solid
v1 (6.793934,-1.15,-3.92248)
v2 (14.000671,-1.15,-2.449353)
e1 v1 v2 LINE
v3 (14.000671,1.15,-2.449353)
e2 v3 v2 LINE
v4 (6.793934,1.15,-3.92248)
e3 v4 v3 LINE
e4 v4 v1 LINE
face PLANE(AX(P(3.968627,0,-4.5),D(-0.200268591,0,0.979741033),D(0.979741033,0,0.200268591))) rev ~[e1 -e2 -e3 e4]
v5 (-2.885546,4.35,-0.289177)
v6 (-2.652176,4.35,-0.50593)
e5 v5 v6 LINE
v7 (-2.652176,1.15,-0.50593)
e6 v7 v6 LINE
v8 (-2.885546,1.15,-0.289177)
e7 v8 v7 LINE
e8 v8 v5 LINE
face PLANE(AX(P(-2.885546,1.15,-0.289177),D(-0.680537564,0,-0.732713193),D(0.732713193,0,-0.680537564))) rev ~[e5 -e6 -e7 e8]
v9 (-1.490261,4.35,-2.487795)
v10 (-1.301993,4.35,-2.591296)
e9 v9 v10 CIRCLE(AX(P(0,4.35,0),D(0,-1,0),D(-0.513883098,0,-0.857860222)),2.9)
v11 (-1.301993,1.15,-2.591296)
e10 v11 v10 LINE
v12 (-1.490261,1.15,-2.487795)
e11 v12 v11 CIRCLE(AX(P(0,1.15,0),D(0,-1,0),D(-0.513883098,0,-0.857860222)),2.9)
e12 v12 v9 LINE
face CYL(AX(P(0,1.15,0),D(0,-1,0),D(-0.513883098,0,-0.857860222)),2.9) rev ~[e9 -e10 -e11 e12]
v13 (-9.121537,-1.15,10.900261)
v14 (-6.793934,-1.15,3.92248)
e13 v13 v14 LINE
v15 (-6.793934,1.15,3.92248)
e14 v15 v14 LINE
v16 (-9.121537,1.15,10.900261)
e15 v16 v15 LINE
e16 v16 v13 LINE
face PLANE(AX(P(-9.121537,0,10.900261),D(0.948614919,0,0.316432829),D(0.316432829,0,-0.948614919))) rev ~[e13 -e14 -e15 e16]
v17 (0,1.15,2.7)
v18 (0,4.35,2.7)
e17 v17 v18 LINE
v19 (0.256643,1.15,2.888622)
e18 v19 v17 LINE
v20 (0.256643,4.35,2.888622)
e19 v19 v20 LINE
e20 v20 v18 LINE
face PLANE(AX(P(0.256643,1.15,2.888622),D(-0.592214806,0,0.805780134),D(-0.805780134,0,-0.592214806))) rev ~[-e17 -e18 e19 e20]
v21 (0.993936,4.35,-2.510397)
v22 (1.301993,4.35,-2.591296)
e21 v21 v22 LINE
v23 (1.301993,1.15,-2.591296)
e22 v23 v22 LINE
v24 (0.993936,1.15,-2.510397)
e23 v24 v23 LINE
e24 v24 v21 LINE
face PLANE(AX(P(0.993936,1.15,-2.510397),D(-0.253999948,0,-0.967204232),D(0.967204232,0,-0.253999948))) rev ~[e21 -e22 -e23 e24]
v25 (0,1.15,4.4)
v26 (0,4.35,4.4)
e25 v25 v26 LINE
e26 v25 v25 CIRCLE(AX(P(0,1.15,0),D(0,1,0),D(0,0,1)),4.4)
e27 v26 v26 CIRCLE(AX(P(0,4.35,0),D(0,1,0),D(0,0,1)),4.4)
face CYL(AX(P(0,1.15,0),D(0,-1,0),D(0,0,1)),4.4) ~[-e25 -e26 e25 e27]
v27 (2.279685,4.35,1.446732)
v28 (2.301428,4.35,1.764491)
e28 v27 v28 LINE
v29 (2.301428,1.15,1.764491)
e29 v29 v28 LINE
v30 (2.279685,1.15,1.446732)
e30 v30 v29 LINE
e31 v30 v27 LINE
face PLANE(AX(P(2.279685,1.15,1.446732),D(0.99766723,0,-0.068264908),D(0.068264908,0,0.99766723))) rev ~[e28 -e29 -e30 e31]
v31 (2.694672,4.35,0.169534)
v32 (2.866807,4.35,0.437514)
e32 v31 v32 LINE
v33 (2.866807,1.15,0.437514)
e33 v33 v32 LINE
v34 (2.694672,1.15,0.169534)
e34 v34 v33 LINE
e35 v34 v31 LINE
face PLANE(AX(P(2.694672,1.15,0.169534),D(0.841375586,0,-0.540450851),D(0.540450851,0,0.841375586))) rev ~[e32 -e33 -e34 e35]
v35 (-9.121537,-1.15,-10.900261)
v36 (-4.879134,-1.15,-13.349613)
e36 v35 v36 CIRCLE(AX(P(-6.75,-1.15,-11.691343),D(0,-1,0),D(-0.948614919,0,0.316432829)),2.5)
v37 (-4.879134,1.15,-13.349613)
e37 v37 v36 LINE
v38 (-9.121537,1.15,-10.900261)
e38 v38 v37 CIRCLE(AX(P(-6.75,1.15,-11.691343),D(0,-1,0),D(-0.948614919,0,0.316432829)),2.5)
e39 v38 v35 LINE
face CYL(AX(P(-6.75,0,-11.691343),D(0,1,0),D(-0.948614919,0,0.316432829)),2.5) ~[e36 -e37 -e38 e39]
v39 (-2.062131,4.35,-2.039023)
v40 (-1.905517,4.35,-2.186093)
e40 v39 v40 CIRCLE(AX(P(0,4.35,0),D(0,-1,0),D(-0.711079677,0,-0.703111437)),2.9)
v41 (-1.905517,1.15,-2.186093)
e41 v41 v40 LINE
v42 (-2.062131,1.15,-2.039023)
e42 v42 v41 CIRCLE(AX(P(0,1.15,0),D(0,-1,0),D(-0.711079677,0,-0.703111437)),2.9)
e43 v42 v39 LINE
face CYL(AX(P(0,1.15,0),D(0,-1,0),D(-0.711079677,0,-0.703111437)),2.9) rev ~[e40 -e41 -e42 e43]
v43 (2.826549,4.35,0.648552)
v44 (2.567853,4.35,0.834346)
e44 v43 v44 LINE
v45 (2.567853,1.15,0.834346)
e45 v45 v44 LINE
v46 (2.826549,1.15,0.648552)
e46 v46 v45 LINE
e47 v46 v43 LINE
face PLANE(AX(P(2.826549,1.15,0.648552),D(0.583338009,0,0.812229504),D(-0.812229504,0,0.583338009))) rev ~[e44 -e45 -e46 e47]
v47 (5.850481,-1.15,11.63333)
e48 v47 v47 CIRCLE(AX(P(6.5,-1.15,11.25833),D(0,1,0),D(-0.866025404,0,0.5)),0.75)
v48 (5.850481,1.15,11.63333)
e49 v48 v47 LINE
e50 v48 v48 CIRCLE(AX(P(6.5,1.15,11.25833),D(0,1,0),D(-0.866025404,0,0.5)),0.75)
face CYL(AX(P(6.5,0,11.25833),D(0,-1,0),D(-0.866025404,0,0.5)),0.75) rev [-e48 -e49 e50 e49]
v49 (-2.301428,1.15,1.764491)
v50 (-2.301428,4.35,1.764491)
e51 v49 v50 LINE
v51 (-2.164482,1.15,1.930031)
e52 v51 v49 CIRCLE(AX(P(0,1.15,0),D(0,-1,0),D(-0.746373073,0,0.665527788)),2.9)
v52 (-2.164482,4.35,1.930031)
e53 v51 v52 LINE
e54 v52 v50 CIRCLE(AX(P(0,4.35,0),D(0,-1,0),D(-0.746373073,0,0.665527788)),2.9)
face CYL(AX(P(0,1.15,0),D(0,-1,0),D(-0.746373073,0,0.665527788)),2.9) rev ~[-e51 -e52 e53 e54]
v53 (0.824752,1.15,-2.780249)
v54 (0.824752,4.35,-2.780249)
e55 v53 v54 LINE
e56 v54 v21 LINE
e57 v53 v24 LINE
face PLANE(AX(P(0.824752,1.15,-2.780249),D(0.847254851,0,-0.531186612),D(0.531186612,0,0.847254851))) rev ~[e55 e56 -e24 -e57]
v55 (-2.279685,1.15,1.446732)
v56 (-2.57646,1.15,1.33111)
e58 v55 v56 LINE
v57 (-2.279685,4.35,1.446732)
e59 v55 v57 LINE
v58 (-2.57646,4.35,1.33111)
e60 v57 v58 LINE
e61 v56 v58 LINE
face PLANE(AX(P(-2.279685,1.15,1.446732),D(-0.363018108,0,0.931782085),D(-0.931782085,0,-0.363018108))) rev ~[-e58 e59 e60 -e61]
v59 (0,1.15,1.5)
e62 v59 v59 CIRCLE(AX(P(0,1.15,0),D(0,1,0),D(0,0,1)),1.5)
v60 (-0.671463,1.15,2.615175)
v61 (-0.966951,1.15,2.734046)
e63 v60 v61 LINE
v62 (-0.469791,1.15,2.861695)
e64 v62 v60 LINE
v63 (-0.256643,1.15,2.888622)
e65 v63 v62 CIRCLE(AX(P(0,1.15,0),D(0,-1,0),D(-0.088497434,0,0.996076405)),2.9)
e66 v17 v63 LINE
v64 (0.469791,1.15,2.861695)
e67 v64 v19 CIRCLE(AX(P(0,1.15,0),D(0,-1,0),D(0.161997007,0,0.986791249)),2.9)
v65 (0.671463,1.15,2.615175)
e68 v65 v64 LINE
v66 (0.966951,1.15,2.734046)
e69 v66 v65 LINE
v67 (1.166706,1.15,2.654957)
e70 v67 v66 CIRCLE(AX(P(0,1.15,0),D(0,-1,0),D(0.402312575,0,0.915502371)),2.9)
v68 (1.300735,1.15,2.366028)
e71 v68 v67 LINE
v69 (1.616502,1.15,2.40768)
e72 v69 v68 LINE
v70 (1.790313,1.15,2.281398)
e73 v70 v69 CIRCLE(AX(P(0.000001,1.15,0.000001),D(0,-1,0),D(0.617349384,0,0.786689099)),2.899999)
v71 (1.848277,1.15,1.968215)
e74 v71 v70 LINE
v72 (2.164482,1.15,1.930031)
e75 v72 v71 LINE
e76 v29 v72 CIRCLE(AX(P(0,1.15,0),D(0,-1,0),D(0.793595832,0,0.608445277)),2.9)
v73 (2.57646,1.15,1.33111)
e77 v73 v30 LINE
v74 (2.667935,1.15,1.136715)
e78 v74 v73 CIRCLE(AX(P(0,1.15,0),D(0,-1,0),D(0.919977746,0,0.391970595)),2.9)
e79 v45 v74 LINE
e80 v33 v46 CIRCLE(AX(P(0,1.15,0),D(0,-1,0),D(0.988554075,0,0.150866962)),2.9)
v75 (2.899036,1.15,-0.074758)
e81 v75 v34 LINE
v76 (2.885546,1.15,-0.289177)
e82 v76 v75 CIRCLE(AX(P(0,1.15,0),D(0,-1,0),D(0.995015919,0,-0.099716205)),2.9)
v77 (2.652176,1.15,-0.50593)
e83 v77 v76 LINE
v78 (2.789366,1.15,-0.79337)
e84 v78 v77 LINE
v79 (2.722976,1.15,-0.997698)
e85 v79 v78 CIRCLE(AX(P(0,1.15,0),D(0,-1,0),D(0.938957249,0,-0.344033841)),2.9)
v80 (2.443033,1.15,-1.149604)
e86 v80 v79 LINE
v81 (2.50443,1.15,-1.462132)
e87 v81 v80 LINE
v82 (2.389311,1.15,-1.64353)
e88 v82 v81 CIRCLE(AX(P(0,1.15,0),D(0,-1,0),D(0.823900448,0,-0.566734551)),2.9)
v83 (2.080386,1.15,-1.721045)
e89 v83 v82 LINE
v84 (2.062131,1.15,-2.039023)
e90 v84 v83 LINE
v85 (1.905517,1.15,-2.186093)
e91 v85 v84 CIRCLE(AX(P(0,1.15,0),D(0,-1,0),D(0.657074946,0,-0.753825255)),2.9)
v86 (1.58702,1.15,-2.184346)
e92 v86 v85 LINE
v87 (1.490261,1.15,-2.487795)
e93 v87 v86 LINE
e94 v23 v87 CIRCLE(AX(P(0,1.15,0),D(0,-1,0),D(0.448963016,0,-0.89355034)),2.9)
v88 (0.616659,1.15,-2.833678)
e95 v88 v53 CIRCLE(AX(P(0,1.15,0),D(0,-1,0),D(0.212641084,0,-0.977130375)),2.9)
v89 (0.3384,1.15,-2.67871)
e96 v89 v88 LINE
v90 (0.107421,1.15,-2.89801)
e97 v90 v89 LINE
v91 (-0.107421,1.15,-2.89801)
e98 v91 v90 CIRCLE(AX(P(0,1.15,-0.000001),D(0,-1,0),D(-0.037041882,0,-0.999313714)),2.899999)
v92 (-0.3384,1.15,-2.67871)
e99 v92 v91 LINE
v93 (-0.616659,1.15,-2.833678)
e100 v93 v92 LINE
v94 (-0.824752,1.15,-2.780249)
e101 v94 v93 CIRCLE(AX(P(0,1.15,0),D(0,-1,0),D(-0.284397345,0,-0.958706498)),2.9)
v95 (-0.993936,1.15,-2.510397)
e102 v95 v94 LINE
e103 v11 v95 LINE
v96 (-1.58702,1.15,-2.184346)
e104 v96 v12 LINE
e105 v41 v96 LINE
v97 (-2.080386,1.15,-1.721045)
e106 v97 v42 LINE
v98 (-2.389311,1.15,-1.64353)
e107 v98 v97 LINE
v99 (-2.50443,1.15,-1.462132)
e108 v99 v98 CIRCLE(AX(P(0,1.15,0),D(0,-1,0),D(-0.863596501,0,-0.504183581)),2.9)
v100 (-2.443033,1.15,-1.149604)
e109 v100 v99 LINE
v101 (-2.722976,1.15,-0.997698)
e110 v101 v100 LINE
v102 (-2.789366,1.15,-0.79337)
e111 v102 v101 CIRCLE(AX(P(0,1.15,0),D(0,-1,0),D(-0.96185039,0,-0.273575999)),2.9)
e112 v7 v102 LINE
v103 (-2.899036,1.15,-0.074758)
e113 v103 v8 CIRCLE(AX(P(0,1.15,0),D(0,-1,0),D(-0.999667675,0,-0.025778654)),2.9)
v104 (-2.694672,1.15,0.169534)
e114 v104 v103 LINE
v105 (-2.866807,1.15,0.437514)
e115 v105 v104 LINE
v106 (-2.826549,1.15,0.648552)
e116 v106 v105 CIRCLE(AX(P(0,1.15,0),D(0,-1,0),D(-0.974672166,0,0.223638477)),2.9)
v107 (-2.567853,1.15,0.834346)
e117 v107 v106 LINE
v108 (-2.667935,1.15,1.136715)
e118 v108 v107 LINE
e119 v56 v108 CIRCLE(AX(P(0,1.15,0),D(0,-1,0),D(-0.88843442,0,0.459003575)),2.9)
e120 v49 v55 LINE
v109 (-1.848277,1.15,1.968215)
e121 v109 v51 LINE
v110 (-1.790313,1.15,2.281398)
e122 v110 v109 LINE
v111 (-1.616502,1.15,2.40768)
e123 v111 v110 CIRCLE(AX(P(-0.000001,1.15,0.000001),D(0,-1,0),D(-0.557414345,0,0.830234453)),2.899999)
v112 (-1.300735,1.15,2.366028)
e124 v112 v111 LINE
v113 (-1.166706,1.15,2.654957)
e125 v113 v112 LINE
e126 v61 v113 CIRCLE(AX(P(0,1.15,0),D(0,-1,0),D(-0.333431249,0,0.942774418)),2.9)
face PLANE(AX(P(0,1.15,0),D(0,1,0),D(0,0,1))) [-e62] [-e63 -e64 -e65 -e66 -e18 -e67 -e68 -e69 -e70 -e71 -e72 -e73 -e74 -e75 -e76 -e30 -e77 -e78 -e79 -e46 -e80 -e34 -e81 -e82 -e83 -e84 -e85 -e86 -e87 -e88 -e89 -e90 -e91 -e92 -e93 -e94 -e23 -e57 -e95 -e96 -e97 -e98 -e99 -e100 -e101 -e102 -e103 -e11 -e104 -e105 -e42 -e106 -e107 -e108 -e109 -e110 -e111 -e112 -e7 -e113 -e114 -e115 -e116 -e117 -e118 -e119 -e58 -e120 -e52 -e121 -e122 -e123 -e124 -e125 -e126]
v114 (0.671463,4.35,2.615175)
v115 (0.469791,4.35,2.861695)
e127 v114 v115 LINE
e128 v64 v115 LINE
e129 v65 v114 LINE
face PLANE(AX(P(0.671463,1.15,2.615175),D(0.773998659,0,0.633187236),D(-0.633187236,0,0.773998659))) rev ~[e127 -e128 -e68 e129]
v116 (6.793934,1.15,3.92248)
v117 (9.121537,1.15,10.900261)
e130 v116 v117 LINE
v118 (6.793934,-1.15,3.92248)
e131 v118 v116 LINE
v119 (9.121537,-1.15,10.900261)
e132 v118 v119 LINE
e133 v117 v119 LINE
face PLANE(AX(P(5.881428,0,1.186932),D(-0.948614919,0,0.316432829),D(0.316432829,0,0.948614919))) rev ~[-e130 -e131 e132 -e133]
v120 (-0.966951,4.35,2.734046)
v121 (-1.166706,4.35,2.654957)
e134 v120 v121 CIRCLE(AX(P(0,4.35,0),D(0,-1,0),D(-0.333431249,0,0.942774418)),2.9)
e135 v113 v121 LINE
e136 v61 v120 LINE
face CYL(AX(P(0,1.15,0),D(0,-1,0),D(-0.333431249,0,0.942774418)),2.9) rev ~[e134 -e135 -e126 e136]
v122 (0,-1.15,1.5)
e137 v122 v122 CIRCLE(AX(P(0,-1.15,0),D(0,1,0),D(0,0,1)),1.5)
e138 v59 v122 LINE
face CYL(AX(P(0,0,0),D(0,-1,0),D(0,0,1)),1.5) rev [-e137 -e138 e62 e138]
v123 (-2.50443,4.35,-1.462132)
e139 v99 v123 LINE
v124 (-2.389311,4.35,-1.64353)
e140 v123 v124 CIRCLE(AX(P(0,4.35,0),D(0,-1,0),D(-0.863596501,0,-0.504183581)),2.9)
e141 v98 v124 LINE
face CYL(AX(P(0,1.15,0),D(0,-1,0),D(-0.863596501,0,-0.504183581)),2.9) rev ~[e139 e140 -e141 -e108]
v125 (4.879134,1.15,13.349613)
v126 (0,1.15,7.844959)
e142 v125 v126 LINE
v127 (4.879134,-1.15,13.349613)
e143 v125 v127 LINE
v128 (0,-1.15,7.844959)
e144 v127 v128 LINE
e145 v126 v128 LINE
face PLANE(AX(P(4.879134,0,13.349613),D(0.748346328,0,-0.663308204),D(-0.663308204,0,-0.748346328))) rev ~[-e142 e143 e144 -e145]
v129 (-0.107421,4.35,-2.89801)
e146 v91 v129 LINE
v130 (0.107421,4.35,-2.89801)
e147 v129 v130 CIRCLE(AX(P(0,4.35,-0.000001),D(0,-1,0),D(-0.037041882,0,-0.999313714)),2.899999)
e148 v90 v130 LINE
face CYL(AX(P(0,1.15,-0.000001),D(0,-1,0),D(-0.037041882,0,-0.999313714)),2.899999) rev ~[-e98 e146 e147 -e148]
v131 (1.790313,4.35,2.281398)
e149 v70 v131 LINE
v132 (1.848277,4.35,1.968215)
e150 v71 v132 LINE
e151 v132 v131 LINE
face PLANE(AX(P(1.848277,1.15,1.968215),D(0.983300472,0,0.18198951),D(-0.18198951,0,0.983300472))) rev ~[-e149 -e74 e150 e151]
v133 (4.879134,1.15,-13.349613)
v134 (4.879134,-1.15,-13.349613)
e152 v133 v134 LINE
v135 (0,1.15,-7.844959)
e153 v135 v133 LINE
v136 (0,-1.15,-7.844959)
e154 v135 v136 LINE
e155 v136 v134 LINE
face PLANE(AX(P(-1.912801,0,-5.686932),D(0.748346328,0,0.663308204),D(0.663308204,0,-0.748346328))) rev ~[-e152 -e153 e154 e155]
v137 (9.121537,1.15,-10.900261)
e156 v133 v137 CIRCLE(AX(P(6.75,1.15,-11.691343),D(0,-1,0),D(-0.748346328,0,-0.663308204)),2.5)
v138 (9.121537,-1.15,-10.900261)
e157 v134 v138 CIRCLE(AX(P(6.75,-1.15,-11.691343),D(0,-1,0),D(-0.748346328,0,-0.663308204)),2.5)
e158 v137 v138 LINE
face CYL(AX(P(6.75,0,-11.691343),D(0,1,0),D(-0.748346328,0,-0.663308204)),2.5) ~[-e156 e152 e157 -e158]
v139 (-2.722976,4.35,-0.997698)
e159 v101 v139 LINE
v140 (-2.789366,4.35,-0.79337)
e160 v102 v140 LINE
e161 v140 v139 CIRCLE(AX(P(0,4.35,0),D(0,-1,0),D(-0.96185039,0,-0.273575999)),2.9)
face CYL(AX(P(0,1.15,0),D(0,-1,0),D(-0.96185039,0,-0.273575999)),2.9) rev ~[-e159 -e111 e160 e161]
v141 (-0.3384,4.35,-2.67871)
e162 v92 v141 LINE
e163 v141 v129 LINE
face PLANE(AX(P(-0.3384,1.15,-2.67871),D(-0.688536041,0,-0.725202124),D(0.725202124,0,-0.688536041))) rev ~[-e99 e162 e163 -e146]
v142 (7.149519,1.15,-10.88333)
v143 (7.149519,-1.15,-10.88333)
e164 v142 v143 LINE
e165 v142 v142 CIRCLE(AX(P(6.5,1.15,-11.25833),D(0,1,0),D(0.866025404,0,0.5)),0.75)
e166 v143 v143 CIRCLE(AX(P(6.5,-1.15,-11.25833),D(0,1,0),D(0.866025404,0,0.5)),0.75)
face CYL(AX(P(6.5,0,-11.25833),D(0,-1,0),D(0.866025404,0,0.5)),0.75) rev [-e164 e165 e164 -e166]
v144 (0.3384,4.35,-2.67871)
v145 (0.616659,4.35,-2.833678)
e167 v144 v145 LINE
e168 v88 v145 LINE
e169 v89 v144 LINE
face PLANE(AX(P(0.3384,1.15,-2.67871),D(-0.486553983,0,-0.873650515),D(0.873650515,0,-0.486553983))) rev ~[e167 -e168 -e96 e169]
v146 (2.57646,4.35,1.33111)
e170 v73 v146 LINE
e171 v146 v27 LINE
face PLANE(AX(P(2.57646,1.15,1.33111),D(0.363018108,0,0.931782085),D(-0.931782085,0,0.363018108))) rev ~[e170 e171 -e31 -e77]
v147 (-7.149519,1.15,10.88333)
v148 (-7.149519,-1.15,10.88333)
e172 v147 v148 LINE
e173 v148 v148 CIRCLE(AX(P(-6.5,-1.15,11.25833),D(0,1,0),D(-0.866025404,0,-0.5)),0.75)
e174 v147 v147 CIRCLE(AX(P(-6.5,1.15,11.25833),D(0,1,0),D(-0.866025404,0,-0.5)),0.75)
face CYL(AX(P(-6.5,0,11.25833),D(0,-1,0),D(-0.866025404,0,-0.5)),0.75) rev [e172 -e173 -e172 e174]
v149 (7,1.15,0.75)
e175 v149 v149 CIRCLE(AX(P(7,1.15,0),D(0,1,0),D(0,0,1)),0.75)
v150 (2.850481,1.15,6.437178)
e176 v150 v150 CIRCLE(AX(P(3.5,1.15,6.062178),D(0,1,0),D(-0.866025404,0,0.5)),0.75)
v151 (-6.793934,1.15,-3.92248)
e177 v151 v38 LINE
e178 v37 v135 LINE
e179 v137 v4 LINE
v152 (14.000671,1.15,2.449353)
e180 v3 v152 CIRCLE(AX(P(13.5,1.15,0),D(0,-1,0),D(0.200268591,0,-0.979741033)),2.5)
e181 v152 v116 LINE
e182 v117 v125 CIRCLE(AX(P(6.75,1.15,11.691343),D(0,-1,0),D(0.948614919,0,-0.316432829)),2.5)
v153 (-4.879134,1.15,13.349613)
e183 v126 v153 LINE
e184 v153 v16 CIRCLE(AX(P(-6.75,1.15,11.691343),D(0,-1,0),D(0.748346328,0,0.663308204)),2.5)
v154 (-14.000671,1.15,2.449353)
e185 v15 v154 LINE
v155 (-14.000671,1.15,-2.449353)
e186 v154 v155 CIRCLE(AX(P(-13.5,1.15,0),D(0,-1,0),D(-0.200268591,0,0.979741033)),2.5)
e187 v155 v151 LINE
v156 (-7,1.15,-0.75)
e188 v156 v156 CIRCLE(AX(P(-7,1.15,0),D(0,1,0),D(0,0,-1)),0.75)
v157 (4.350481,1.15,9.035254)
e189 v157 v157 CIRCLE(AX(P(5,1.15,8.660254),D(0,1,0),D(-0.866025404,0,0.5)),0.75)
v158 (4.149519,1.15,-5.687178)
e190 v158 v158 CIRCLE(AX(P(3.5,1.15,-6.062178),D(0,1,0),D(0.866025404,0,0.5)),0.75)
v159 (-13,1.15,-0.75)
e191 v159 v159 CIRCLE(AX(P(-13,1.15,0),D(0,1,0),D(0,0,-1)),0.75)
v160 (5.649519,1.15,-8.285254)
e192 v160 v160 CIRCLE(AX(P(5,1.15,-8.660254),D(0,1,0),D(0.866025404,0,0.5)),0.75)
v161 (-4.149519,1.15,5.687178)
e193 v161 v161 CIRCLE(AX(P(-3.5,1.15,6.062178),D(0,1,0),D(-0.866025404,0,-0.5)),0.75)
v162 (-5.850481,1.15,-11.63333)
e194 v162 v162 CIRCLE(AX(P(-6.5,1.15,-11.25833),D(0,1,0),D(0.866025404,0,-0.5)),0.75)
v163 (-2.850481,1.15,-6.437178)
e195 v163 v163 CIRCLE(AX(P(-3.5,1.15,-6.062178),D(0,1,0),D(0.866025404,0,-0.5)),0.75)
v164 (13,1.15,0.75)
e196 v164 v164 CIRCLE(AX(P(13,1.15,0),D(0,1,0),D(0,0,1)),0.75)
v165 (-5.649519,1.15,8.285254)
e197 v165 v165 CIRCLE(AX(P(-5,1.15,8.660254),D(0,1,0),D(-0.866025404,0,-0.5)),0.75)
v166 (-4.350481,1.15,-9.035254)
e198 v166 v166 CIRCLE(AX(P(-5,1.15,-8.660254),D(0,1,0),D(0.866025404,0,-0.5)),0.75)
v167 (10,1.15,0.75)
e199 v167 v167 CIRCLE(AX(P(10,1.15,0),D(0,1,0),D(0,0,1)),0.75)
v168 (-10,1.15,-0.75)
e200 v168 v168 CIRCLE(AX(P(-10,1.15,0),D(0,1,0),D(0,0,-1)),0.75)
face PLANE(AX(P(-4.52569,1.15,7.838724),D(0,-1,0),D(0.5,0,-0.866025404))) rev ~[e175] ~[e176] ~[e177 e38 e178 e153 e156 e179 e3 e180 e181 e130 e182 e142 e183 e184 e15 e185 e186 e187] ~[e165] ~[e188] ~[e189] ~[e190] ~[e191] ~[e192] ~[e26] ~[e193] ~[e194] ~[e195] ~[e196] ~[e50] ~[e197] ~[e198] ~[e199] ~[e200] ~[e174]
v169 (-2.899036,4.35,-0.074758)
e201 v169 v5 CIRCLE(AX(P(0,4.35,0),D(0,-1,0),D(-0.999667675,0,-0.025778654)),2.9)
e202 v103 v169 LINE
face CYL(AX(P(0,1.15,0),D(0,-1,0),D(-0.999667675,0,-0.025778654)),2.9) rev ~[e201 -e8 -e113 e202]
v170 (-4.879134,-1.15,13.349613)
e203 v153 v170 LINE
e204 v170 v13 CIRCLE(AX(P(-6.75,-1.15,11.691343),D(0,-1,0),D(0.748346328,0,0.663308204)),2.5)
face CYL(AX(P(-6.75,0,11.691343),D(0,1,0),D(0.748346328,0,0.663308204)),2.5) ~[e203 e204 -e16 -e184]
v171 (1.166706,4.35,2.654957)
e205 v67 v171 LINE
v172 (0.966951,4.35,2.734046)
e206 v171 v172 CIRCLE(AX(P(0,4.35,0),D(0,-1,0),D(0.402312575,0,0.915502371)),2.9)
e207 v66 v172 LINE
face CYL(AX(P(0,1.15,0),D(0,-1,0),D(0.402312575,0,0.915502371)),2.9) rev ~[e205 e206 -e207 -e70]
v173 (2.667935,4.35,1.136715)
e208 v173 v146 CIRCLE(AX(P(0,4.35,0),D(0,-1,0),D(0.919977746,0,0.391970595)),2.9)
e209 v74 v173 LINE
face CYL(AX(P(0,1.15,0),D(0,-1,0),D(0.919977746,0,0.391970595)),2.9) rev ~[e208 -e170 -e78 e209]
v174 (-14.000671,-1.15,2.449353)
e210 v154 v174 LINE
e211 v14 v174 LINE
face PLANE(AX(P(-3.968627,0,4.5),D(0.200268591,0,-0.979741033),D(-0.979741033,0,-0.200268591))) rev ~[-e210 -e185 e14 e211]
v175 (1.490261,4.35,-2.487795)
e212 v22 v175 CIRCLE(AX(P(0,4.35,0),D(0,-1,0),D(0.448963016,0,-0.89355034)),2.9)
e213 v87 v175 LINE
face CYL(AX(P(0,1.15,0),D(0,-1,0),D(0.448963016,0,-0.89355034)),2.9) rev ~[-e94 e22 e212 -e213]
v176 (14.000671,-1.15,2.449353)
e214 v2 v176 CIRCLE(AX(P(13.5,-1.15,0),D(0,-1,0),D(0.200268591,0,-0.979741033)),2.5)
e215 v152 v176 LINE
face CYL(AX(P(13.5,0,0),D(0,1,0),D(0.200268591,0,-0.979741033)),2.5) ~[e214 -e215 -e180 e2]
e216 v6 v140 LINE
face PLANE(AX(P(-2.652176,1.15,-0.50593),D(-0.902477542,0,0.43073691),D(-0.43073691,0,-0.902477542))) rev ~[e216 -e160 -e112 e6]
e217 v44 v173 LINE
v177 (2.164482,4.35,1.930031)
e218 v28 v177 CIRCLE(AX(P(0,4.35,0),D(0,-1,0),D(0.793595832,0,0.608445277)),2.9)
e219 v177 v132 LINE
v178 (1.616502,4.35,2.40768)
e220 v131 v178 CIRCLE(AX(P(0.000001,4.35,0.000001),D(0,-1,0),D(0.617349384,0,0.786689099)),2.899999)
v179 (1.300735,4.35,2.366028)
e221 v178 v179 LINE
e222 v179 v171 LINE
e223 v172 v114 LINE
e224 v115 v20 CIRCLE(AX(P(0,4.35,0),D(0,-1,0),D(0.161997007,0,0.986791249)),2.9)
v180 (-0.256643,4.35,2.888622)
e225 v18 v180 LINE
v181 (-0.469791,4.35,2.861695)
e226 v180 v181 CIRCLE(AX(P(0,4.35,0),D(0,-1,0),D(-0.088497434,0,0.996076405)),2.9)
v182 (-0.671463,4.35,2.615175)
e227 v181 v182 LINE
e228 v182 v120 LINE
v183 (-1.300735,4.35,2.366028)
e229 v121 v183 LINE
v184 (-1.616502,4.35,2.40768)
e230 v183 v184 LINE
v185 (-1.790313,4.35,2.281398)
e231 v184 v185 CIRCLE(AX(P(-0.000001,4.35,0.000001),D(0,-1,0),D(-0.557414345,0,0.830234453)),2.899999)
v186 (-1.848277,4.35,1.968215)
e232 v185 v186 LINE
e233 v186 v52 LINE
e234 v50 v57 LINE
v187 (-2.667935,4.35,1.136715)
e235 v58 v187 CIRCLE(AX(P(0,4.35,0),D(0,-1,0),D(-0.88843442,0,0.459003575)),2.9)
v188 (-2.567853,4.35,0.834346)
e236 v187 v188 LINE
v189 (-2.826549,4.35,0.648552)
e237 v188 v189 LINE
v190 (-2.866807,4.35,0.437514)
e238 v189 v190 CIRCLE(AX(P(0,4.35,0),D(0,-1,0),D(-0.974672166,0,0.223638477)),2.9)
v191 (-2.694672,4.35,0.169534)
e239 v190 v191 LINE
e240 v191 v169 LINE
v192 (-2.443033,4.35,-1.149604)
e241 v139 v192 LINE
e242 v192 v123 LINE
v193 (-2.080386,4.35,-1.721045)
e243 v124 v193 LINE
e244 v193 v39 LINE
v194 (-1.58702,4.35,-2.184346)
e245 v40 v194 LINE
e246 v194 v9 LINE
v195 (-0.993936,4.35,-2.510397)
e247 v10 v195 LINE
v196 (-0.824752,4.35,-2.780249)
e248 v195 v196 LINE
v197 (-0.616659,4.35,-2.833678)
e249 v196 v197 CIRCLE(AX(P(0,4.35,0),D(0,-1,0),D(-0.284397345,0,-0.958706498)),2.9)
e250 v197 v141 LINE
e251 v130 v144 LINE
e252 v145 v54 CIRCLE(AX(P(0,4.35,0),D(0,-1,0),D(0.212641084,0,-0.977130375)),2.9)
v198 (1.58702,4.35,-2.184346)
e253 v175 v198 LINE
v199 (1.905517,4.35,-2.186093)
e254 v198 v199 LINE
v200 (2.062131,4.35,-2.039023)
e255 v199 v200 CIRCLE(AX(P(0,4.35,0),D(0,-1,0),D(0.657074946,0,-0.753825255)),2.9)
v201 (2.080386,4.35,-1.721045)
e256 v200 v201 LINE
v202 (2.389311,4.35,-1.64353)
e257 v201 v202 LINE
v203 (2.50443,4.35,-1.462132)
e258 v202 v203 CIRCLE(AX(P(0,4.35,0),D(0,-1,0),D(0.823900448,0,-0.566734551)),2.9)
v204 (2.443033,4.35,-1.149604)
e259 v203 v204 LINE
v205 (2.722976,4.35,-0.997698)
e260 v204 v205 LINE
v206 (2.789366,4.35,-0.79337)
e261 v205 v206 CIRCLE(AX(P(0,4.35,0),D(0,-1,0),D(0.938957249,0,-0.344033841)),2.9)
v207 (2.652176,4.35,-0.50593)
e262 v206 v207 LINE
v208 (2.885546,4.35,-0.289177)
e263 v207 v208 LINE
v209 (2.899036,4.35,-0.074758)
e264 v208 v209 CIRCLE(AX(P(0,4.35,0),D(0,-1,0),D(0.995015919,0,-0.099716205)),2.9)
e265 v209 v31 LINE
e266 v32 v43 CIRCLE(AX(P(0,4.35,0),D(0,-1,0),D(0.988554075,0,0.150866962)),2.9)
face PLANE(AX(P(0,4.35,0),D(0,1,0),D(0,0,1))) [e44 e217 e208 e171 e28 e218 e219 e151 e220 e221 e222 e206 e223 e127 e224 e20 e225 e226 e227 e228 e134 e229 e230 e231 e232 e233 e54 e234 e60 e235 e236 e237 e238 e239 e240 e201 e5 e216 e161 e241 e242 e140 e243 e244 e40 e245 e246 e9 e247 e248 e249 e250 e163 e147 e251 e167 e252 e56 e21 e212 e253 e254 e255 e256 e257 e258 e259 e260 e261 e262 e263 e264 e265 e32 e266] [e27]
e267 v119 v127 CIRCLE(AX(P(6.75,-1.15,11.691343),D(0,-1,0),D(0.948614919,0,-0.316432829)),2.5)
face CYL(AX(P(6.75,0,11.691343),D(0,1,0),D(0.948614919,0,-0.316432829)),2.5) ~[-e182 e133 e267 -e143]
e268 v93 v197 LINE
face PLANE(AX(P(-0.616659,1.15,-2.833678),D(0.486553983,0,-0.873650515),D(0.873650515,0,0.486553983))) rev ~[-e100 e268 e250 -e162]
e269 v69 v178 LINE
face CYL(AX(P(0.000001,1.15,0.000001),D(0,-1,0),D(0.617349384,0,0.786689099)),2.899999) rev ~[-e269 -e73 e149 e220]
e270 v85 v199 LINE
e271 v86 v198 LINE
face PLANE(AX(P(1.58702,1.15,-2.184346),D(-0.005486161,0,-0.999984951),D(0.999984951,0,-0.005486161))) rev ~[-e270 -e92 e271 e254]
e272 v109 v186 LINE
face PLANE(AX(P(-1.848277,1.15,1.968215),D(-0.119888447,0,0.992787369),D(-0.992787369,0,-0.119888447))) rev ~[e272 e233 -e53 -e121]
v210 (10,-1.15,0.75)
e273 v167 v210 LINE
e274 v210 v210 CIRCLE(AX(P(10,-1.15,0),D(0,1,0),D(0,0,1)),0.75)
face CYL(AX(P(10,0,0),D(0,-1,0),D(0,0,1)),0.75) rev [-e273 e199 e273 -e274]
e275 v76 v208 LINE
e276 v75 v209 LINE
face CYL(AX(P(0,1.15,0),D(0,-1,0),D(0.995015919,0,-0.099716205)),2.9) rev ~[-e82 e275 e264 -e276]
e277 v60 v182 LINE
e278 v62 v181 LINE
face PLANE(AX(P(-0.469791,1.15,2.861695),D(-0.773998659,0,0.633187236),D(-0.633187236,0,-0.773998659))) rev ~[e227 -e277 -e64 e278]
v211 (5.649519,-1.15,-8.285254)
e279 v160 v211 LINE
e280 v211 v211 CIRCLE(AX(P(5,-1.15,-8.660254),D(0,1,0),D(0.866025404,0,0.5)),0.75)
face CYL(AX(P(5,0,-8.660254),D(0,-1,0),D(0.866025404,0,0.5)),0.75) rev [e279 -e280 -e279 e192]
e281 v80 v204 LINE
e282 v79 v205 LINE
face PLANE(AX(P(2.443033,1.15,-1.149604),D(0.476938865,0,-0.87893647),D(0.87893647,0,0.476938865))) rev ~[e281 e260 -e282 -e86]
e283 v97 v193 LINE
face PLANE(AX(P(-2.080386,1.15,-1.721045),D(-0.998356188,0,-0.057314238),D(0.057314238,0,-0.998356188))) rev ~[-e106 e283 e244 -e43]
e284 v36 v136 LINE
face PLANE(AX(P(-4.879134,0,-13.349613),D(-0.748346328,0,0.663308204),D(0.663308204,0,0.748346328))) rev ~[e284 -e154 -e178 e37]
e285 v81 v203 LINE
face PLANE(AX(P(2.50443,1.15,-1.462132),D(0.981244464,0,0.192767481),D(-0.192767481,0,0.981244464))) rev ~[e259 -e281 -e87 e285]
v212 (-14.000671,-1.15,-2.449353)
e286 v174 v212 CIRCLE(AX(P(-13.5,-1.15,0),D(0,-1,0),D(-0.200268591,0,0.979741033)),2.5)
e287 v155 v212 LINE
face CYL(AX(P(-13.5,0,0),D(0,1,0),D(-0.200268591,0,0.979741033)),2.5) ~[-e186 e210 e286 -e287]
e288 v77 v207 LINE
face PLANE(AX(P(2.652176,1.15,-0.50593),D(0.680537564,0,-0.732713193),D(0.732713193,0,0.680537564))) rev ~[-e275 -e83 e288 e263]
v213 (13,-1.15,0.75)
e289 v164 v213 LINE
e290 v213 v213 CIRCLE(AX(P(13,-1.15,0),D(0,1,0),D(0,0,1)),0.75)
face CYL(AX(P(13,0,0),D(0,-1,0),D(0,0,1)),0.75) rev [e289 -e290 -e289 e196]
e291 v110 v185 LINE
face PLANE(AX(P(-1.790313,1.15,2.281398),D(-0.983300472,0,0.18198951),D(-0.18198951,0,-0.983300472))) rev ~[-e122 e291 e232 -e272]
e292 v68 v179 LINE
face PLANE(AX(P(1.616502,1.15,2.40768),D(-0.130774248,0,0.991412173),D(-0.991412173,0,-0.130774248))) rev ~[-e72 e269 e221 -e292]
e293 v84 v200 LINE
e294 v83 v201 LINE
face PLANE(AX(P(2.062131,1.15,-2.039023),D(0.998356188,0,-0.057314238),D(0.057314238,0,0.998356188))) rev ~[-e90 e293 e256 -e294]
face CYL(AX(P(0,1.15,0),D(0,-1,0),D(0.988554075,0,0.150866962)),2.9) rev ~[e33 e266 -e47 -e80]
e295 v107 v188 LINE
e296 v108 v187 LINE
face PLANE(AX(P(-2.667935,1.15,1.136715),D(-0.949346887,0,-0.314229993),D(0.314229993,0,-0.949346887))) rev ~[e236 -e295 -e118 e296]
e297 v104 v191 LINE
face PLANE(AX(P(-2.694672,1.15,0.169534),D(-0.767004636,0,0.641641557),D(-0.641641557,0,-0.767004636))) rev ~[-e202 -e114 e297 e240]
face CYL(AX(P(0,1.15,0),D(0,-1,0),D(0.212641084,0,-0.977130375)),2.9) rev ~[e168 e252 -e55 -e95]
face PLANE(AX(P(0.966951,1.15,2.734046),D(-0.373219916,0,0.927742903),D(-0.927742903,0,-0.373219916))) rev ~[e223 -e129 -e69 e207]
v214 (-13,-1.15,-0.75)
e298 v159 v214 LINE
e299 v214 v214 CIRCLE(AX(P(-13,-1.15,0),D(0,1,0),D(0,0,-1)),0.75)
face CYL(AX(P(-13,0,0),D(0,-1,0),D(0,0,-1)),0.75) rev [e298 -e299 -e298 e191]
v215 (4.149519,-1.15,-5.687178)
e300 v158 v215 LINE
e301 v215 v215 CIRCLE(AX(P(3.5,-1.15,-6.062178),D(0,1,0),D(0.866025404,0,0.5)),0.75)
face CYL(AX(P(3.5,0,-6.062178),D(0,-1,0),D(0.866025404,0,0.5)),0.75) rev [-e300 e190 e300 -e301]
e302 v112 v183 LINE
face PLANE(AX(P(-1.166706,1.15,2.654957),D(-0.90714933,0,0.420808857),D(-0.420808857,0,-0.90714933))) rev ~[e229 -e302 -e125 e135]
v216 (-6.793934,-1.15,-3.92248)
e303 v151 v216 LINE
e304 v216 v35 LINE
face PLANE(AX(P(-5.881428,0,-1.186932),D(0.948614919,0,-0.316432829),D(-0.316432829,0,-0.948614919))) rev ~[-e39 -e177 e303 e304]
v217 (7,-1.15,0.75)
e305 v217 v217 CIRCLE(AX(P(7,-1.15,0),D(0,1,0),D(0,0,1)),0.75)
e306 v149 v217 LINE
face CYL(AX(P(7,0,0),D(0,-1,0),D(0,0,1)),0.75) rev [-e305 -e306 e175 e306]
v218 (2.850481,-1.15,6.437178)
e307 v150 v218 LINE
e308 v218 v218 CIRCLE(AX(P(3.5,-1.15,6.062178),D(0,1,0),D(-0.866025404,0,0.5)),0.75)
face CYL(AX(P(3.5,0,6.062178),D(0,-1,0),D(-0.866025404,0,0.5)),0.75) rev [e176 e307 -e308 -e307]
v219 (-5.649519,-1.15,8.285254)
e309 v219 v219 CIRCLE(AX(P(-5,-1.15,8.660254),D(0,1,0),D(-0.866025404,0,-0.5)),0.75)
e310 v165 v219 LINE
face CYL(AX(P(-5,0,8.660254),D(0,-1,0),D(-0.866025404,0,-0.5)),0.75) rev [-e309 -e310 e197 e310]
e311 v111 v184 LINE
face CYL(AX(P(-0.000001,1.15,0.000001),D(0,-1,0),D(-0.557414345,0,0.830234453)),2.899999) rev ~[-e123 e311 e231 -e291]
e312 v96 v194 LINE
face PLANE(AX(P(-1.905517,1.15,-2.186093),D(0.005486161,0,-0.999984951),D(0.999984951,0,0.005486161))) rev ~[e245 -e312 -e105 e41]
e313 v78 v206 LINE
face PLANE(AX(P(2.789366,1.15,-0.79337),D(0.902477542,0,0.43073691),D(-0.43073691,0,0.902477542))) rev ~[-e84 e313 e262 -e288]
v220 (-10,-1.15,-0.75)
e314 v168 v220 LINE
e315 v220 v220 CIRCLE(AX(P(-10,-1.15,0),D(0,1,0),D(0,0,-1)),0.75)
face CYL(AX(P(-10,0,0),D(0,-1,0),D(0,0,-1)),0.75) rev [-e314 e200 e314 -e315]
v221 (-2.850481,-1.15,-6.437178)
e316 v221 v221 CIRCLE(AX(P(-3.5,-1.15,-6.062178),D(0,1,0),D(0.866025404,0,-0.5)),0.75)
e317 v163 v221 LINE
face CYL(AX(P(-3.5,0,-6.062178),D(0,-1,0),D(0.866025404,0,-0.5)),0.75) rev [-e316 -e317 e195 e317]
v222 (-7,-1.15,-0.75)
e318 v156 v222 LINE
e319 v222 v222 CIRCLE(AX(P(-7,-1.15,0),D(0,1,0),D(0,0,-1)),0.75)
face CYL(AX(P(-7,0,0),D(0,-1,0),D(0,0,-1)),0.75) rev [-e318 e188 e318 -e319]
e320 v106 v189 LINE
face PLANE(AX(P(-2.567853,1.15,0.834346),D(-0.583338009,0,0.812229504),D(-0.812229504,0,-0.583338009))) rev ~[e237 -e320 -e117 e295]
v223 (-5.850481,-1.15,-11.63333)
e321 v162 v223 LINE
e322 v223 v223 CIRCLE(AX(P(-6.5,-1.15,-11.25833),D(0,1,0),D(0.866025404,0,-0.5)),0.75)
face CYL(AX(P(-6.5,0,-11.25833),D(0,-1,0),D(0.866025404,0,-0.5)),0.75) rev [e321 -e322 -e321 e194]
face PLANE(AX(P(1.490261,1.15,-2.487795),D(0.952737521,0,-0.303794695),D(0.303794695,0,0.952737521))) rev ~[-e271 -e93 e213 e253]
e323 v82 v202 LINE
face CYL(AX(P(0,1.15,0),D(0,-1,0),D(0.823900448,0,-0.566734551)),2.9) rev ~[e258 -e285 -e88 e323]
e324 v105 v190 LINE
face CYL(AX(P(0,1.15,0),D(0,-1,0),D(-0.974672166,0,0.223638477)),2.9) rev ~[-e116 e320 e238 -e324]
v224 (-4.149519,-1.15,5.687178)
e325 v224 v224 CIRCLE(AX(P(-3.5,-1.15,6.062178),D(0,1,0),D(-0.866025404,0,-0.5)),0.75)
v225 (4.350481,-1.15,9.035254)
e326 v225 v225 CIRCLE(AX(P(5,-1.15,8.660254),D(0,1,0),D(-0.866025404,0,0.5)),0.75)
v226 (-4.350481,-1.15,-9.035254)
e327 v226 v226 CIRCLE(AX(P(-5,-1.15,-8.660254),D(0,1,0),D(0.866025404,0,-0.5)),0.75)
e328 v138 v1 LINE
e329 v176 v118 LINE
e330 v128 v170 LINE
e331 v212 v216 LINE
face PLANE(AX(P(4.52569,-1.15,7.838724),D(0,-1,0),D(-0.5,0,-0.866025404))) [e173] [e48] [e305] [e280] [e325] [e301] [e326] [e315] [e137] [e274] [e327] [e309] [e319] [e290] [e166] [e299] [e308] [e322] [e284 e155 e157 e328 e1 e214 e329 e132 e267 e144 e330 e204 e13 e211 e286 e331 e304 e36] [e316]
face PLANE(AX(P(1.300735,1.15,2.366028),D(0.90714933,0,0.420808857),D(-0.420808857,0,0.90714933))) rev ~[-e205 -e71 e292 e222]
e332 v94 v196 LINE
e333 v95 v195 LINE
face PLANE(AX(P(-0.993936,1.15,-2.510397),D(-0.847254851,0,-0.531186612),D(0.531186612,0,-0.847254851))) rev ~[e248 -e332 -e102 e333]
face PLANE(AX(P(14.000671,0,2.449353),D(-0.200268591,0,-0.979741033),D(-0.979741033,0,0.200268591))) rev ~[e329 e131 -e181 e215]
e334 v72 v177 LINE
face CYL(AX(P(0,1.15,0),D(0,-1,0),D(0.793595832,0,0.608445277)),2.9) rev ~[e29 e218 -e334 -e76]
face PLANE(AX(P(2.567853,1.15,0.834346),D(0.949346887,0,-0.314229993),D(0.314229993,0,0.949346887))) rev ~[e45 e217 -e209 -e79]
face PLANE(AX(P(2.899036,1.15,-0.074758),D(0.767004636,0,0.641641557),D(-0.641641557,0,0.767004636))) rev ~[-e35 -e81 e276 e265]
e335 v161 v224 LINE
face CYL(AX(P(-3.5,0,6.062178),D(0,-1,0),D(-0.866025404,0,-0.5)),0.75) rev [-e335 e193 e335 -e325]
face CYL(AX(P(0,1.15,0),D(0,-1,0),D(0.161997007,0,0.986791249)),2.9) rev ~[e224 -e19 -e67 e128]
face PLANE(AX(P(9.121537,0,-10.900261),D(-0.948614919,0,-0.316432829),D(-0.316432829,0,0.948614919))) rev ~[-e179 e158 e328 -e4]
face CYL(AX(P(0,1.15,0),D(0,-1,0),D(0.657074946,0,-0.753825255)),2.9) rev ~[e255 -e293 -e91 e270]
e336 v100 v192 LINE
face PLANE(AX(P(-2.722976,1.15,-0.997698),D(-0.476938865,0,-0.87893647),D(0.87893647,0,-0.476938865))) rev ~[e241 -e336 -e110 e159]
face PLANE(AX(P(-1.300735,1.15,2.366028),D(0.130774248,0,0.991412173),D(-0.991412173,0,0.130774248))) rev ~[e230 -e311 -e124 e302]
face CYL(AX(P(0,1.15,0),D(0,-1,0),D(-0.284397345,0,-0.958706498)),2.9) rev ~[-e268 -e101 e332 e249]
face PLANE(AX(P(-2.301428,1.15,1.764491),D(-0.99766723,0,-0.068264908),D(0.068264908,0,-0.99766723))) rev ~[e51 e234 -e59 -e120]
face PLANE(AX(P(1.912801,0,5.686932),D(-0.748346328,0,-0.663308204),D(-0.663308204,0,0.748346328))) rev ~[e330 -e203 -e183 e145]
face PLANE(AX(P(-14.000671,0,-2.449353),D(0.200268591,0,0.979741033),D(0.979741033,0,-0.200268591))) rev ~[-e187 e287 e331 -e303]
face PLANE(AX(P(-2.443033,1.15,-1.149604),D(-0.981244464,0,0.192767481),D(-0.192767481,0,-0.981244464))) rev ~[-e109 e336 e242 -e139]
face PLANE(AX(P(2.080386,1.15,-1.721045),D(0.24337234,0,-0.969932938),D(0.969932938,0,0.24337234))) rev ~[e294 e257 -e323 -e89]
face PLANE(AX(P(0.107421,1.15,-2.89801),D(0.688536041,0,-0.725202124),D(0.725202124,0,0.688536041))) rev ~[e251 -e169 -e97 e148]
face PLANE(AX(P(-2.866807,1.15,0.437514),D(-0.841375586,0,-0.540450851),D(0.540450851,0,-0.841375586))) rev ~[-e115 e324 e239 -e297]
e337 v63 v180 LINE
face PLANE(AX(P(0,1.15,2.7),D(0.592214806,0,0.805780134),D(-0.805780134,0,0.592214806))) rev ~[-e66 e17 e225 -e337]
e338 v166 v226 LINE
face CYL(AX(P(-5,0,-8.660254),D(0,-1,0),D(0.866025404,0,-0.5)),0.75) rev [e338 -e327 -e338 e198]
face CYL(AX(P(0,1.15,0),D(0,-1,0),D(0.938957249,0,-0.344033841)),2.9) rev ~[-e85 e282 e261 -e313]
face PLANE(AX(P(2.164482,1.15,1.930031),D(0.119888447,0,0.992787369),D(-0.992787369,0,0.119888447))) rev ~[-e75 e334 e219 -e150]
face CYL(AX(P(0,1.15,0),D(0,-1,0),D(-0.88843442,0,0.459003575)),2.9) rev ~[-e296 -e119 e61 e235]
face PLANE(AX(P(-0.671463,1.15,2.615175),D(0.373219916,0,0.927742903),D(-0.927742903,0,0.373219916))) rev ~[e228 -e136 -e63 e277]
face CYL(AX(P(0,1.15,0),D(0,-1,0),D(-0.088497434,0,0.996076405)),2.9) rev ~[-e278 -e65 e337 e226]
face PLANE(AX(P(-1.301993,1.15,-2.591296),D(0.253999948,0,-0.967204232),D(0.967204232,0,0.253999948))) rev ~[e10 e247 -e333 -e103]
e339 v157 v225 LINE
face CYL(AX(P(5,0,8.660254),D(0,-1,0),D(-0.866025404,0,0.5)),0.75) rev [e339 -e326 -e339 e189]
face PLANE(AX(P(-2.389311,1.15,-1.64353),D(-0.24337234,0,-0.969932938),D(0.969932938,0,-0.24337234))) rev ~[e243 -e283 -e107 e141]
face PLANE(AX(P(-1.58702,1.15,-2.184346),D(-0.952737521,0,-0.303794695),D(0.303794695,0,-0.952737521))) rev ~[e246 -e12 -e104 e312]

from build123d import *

# Parameters (mm, degrees)
SKETCH2_R           = 6
SKETCH2_R_2         = 1.5
BOSS_EXTRUDE1_DEPTH = 1.15
SKETCH3_R           = 4.4
BOSS_EXTRUDE2_DEPTH = 3.2
SKETCH4_R           = 0.75
BOSS_EXTRUDE3_DEPTH = 1.15
CIRPATTERN1_COUNT   = 6


with BuildPart() as part:
    # Sketch2 → Boss-Extrude1 (new, symmetric)
    with BuildSketch(Plane(origin=(0, 0, 0), x_dir=(1, 0, 0), z_dir=(0, 1, 0))):
        with Locations(Location((0, 0, 0), (0, 0, 270))):
            Circle(SKETCH2_R)
        with Locations(Location((0, 0, 0), (0, 0, 270))):
            Circle(SKETCH2_R_2, mode=Mode.SUBTRACT)
    extrude(amount=BOSS_EXTRUDE1_DEPTH, both=True)

    # Sketch3 → Boss-Extrude2 (add)
    with BuildSketch(Plane(origin=(0, 1.15, 0), x_dir=(1, 0, 0), z_dir=(0, 1, 0))):
        with Locations(Location((0, 0, 0), (0, 0, 270))):
            Circle(SKETCH3_R)
        with BuildLine():
            Line((0.107421435, 2.898009771), (0.338399731, 2.678709694))
            Line((0.338399731, 2.678709694), (0.61665913, 2.83367809))
            ThreePointArc((0.61665913, 2.83367809), (0.721200673, 2.808891167), (0.824752316, 2.780248841))
            Line((0.824752316, 2.780248841), (0.993936292, 2.510396512))
            Line((0.993936292, 2.510396512), (1.301992734, 2.591295993))
            ThreePointArc((1.301992734, 2.591295993), (1.397085655, 2.541289372), (1.490260976, 2.48779465))
            Line((1.490260976, 2.48779465), (1.587020181, 2.184345885))
            Line((1.587020181, 2.184345885), (1.905517346, 2.186093238))
            ThreePointArc((1.905517346, 2.186093238), (1.985186607, 2.11400902), (2.062131058, 2.039023173))
            Line((2.062131058, 2.039023173), (2.080385755, 1.721044772))
            Line((2.080385755, 1.721044772), (2.389311295, 1.643530205))
            ThreePointArc((2.389311295, 1.643530205), (2.448550984, 1.553897705), (2.504429862, 1.46213237))
            Line((2.504429862, 1.46213237), (2.443033042, 1.149604087))
            Line((2.443033042, 1.149604087), (2.722976028, 0.997698125))
            ThreePointArc((2.722976028, 0.997698125), (2.758063897, 0.896149284), (2.789366126, 0.793370413))
            Line((2.789366126, 0.793370413), (2.652175577, 0.505929549))
            Line((2.652175577, 0.505929549), (2.885546163, 0.289177003))
            ThreePointArc((2.885546163, 0.289177003), (2.894277512, 0.182092507), (2.899036259, 0.074758075))
            Line((2.899036259, 0.074758075), (2.694672167, -0.169534403))
            Line((2.694672167, -0.169534403), (2.866806821, -0.437514174))
            ThreePointArc((2.866806821, -0.437514174), (2.848633027, -0.543405812), (2.826549281, -0.648551587))
            Line((2.826549281, -0.648551587), (2.567852594, -0.834345885))
            Line((2.567852594, -0.834345885), (2.667935462, -1.136714727))
            ThreePointArc((2.667935462, -1.136714727), (2.623998452, -1.234759946), (2.576459817, -1.331110368))
            Line((2.576459817, -1.331110368), (2.279685399, -1.446732346))
            Line((2.279685399, -1.446732346), (2.301427906, -1.764491312))
            ThreePointArc((2.301427906, -1.764491312), (2.234488404, -1.84852957), (2.164481907, -1.930030589))
            Line((2.164481907, -1.930030589), (1.848277186, -1.968215294))
            Line((1.848277186, -1.968215294), (1.790313171, -2.281398419))
            ThreePointArc((1.790313171, -2.281398419), (1.704577232, -2.346149284), (1.616501638, -2.40767989))
            Line((1.616501638, -2.40767989), (1.30073492, -2.366028036))
            Line((1.30073492, -2.366028036), (1.166706475, -2.654956874))
            ThreePointArc((1.166706475, -2.654956874), (1.067561203, -2.696351809), (0.966950626, -2.734045809))
            Line((0.966950626, -2.734045809), (0.671462695, -2.615174535))
            Line((0.671462695, -2.615174535), (0.469791321, -2.861694623))
            ThreePointArc((0.469791321, -2.861694623), (0.363466377, -2.877132634), (0.25664255, -2.888621575))
            Line((0.25664255, -2.888621575), (0, -2.7))
            Line((0, -2.7), (-0.25664255, -2.888621575))
            ThreePointArc((-0.25664255, -2.888621575), (-0.363466377, -2.877132634), (-0.469791321, -2.861694623))
            Line((-0.469791321, -2.861694623), (-0.671462695, -2.615174535))
            Line((-0.671462695, -2.615174535), (-0.966950626, -2.734045809))
            ThreePointArc((-0.966950626, -2.734045809), (-1.067561203, -2.696351809), (-1.166706475, -2.654956874))
            Line((-1.166706475, -2.654956874), (-1.30073492, -2.366028036))
            Line((-1.30073492, -2.366028036), (-1.616501638, -2.40767989))
            ThreePointArc((-1.616501638, -2.40767989), (-1.704577232, -2.346149284), (-1.790313171, -2.281398419))
            Line((-1.790313171, -2.281398419), (-1.848277186, -1.968215294))
            Line((-1.848277186, -1.968215294), (-2.164481907, -1.930030589))
            ThreePointArc((-2.164481907, -1.930030589), (-2.234488404, -1.84852957), (-2.301427906, -1.764491312))
            Line((-2.301427906, -1.764491312), (-2.279685399, -1.446732346))
            Line((-2.279685399, -1.446732346), (-2.576459817, -1.331110368))
            ThreePointArc((-2.576459817, -1.331110368), (-2.623998452, -1.234759946), (-2.667935462, -1.136714727))
            Line((-2.667935462, -1.136714727), (-2.567852594, -0.834345885))
            Line((-2.567852594, -0.834345885), (-2.826549281, -0.648551587))
            ThreePointArc((-2.826549281, -0.648551587), (-2.848633027, -0.543405812), (-2.866806821, -0.437514174))
            Line((-2.866806821, -0.437514174), (-2.694672167, -0.169534403))
            Line((-2.694672167, -0.169534403), (-2.899036259, 0.074758075))
            ThreePointArc((-2.899036259, 0.074758075), (-2.894277512, 0.182092507), (-2.885546163, 0.289177003))
            Line((-2.885546163, 0.289177003), (-2.652175577, 0.505929549))
            Line((-2.652175577, 0.505929549), (-2.789366126, 0.793370413))
            ThreePointArc((-2.789366126, 0.793370413), (-2.758063897, 0.896149284), (-2.722976028, 0.997698125))
            Line((-2.722976028, 0.997698125), (-2.443033042, 1.149604087))
            Line((-2.443033042, 1.149604087), (-2.504429862, 1.46213237))
            ThreePointArc((-2.504429862, 1.46213237), (-2.448550984, 1.553897705), (-2.389311295, 1.643530205))
            Line((-2.389311295, 1.643530205), (-2.080385755, 1.721044772))
            Line((-2.080385755, 1.721044772), (-2.062131058, 2.039023173))
            ThreePointArc((-2.062131058, 2.039023173), (-1.985186607, 2.11400902), (-1.905517346, 2.186093238))
            Line((-1.905517346, 2.186093238), (-1.587020181, 2.184345885))
            Line((-1.587020181, 2.184345885), (-1.490260976, 2.48779465))
            ThreePointArc((-1.490260976, 2.48779465), (-1.397085655, 2.541289372), (-1.301992734, 2.591295993))
            Line((-1.301992734, 2.591295993), (-0.993936292, 2.510396512))
            Line((-0.993936292, 2.510396512), (-0.824752316, 2.780248841))
            ThreePointArc((-0.824752316, 2.780248841), (-0.721200673, 2.808891167), (-0.61665913, 2.83367809))
            Line((-0.61665913, 2.83367809), (-0.338399731, 2.678709694))
            Line((-0.338399731, 2.678709694), (-0.107421435, 2.898009771))
            ThreePointArc((-0.107421435, 2.898009771), (0, 2.9), (0.107421435, 2.898009771))
        make_face(mode=Mode.SUBTRACT)
    extrude(amount=BOSS_EXTRUDE2_DEPTH)

    # Sketch4 → Boss-Extrude3 (add, symmetric)
    with BuildSketch(Plane(origin=(0, 0, 0), x_dir=(1, 0, 0), z_dir=(0, 1, 0))):
        with BuildLine():
            Line((3.968626967, 4.5), (14.000671478, 2.449352582))
            ThreePointArc((14.000671478, 2.449352582), (16, 0), (14.000671478, -2.449352582))
            Line((14.000671478, -2.449352582), (3.968626967, -4.5))
            ThreePointArc((3.968626967, -4.5), (6, 0), (3.968626967, 4.5))
        make_face()
        with Locations(Location((13, 0, 0), (0, 0, 270))):
            Circle(SKETCH4_R, mode=Mode.SUBTRACT)
        with Locations(Location((10, 0, 0), (0, 0, 270))):
            Circle(SKETCH4_R, mode=Mode.SUBTRACT)
        with Locations(Location((7, 0, 0), (0, 0, 270))):
            Circle(SKETCH4_R, mode=Mode.SUBTRACT)
    boss_extrude3 = extrude(amount=BOSS_EXTRUDE3_DEPTH, both=True)

    # CirPattern1: Boss-Extrude3 ×6 about axis
    cirpattern1_axis = Axis((0, 0, 0), (0, 1, 0))
    for i in range(1, CIRPATTERN1_COUNT):
        add(boss_extrude3.rotate(cirpattern1_axis, i * 360 / CIRPATTERN1_COUNT))


solid = part.part
